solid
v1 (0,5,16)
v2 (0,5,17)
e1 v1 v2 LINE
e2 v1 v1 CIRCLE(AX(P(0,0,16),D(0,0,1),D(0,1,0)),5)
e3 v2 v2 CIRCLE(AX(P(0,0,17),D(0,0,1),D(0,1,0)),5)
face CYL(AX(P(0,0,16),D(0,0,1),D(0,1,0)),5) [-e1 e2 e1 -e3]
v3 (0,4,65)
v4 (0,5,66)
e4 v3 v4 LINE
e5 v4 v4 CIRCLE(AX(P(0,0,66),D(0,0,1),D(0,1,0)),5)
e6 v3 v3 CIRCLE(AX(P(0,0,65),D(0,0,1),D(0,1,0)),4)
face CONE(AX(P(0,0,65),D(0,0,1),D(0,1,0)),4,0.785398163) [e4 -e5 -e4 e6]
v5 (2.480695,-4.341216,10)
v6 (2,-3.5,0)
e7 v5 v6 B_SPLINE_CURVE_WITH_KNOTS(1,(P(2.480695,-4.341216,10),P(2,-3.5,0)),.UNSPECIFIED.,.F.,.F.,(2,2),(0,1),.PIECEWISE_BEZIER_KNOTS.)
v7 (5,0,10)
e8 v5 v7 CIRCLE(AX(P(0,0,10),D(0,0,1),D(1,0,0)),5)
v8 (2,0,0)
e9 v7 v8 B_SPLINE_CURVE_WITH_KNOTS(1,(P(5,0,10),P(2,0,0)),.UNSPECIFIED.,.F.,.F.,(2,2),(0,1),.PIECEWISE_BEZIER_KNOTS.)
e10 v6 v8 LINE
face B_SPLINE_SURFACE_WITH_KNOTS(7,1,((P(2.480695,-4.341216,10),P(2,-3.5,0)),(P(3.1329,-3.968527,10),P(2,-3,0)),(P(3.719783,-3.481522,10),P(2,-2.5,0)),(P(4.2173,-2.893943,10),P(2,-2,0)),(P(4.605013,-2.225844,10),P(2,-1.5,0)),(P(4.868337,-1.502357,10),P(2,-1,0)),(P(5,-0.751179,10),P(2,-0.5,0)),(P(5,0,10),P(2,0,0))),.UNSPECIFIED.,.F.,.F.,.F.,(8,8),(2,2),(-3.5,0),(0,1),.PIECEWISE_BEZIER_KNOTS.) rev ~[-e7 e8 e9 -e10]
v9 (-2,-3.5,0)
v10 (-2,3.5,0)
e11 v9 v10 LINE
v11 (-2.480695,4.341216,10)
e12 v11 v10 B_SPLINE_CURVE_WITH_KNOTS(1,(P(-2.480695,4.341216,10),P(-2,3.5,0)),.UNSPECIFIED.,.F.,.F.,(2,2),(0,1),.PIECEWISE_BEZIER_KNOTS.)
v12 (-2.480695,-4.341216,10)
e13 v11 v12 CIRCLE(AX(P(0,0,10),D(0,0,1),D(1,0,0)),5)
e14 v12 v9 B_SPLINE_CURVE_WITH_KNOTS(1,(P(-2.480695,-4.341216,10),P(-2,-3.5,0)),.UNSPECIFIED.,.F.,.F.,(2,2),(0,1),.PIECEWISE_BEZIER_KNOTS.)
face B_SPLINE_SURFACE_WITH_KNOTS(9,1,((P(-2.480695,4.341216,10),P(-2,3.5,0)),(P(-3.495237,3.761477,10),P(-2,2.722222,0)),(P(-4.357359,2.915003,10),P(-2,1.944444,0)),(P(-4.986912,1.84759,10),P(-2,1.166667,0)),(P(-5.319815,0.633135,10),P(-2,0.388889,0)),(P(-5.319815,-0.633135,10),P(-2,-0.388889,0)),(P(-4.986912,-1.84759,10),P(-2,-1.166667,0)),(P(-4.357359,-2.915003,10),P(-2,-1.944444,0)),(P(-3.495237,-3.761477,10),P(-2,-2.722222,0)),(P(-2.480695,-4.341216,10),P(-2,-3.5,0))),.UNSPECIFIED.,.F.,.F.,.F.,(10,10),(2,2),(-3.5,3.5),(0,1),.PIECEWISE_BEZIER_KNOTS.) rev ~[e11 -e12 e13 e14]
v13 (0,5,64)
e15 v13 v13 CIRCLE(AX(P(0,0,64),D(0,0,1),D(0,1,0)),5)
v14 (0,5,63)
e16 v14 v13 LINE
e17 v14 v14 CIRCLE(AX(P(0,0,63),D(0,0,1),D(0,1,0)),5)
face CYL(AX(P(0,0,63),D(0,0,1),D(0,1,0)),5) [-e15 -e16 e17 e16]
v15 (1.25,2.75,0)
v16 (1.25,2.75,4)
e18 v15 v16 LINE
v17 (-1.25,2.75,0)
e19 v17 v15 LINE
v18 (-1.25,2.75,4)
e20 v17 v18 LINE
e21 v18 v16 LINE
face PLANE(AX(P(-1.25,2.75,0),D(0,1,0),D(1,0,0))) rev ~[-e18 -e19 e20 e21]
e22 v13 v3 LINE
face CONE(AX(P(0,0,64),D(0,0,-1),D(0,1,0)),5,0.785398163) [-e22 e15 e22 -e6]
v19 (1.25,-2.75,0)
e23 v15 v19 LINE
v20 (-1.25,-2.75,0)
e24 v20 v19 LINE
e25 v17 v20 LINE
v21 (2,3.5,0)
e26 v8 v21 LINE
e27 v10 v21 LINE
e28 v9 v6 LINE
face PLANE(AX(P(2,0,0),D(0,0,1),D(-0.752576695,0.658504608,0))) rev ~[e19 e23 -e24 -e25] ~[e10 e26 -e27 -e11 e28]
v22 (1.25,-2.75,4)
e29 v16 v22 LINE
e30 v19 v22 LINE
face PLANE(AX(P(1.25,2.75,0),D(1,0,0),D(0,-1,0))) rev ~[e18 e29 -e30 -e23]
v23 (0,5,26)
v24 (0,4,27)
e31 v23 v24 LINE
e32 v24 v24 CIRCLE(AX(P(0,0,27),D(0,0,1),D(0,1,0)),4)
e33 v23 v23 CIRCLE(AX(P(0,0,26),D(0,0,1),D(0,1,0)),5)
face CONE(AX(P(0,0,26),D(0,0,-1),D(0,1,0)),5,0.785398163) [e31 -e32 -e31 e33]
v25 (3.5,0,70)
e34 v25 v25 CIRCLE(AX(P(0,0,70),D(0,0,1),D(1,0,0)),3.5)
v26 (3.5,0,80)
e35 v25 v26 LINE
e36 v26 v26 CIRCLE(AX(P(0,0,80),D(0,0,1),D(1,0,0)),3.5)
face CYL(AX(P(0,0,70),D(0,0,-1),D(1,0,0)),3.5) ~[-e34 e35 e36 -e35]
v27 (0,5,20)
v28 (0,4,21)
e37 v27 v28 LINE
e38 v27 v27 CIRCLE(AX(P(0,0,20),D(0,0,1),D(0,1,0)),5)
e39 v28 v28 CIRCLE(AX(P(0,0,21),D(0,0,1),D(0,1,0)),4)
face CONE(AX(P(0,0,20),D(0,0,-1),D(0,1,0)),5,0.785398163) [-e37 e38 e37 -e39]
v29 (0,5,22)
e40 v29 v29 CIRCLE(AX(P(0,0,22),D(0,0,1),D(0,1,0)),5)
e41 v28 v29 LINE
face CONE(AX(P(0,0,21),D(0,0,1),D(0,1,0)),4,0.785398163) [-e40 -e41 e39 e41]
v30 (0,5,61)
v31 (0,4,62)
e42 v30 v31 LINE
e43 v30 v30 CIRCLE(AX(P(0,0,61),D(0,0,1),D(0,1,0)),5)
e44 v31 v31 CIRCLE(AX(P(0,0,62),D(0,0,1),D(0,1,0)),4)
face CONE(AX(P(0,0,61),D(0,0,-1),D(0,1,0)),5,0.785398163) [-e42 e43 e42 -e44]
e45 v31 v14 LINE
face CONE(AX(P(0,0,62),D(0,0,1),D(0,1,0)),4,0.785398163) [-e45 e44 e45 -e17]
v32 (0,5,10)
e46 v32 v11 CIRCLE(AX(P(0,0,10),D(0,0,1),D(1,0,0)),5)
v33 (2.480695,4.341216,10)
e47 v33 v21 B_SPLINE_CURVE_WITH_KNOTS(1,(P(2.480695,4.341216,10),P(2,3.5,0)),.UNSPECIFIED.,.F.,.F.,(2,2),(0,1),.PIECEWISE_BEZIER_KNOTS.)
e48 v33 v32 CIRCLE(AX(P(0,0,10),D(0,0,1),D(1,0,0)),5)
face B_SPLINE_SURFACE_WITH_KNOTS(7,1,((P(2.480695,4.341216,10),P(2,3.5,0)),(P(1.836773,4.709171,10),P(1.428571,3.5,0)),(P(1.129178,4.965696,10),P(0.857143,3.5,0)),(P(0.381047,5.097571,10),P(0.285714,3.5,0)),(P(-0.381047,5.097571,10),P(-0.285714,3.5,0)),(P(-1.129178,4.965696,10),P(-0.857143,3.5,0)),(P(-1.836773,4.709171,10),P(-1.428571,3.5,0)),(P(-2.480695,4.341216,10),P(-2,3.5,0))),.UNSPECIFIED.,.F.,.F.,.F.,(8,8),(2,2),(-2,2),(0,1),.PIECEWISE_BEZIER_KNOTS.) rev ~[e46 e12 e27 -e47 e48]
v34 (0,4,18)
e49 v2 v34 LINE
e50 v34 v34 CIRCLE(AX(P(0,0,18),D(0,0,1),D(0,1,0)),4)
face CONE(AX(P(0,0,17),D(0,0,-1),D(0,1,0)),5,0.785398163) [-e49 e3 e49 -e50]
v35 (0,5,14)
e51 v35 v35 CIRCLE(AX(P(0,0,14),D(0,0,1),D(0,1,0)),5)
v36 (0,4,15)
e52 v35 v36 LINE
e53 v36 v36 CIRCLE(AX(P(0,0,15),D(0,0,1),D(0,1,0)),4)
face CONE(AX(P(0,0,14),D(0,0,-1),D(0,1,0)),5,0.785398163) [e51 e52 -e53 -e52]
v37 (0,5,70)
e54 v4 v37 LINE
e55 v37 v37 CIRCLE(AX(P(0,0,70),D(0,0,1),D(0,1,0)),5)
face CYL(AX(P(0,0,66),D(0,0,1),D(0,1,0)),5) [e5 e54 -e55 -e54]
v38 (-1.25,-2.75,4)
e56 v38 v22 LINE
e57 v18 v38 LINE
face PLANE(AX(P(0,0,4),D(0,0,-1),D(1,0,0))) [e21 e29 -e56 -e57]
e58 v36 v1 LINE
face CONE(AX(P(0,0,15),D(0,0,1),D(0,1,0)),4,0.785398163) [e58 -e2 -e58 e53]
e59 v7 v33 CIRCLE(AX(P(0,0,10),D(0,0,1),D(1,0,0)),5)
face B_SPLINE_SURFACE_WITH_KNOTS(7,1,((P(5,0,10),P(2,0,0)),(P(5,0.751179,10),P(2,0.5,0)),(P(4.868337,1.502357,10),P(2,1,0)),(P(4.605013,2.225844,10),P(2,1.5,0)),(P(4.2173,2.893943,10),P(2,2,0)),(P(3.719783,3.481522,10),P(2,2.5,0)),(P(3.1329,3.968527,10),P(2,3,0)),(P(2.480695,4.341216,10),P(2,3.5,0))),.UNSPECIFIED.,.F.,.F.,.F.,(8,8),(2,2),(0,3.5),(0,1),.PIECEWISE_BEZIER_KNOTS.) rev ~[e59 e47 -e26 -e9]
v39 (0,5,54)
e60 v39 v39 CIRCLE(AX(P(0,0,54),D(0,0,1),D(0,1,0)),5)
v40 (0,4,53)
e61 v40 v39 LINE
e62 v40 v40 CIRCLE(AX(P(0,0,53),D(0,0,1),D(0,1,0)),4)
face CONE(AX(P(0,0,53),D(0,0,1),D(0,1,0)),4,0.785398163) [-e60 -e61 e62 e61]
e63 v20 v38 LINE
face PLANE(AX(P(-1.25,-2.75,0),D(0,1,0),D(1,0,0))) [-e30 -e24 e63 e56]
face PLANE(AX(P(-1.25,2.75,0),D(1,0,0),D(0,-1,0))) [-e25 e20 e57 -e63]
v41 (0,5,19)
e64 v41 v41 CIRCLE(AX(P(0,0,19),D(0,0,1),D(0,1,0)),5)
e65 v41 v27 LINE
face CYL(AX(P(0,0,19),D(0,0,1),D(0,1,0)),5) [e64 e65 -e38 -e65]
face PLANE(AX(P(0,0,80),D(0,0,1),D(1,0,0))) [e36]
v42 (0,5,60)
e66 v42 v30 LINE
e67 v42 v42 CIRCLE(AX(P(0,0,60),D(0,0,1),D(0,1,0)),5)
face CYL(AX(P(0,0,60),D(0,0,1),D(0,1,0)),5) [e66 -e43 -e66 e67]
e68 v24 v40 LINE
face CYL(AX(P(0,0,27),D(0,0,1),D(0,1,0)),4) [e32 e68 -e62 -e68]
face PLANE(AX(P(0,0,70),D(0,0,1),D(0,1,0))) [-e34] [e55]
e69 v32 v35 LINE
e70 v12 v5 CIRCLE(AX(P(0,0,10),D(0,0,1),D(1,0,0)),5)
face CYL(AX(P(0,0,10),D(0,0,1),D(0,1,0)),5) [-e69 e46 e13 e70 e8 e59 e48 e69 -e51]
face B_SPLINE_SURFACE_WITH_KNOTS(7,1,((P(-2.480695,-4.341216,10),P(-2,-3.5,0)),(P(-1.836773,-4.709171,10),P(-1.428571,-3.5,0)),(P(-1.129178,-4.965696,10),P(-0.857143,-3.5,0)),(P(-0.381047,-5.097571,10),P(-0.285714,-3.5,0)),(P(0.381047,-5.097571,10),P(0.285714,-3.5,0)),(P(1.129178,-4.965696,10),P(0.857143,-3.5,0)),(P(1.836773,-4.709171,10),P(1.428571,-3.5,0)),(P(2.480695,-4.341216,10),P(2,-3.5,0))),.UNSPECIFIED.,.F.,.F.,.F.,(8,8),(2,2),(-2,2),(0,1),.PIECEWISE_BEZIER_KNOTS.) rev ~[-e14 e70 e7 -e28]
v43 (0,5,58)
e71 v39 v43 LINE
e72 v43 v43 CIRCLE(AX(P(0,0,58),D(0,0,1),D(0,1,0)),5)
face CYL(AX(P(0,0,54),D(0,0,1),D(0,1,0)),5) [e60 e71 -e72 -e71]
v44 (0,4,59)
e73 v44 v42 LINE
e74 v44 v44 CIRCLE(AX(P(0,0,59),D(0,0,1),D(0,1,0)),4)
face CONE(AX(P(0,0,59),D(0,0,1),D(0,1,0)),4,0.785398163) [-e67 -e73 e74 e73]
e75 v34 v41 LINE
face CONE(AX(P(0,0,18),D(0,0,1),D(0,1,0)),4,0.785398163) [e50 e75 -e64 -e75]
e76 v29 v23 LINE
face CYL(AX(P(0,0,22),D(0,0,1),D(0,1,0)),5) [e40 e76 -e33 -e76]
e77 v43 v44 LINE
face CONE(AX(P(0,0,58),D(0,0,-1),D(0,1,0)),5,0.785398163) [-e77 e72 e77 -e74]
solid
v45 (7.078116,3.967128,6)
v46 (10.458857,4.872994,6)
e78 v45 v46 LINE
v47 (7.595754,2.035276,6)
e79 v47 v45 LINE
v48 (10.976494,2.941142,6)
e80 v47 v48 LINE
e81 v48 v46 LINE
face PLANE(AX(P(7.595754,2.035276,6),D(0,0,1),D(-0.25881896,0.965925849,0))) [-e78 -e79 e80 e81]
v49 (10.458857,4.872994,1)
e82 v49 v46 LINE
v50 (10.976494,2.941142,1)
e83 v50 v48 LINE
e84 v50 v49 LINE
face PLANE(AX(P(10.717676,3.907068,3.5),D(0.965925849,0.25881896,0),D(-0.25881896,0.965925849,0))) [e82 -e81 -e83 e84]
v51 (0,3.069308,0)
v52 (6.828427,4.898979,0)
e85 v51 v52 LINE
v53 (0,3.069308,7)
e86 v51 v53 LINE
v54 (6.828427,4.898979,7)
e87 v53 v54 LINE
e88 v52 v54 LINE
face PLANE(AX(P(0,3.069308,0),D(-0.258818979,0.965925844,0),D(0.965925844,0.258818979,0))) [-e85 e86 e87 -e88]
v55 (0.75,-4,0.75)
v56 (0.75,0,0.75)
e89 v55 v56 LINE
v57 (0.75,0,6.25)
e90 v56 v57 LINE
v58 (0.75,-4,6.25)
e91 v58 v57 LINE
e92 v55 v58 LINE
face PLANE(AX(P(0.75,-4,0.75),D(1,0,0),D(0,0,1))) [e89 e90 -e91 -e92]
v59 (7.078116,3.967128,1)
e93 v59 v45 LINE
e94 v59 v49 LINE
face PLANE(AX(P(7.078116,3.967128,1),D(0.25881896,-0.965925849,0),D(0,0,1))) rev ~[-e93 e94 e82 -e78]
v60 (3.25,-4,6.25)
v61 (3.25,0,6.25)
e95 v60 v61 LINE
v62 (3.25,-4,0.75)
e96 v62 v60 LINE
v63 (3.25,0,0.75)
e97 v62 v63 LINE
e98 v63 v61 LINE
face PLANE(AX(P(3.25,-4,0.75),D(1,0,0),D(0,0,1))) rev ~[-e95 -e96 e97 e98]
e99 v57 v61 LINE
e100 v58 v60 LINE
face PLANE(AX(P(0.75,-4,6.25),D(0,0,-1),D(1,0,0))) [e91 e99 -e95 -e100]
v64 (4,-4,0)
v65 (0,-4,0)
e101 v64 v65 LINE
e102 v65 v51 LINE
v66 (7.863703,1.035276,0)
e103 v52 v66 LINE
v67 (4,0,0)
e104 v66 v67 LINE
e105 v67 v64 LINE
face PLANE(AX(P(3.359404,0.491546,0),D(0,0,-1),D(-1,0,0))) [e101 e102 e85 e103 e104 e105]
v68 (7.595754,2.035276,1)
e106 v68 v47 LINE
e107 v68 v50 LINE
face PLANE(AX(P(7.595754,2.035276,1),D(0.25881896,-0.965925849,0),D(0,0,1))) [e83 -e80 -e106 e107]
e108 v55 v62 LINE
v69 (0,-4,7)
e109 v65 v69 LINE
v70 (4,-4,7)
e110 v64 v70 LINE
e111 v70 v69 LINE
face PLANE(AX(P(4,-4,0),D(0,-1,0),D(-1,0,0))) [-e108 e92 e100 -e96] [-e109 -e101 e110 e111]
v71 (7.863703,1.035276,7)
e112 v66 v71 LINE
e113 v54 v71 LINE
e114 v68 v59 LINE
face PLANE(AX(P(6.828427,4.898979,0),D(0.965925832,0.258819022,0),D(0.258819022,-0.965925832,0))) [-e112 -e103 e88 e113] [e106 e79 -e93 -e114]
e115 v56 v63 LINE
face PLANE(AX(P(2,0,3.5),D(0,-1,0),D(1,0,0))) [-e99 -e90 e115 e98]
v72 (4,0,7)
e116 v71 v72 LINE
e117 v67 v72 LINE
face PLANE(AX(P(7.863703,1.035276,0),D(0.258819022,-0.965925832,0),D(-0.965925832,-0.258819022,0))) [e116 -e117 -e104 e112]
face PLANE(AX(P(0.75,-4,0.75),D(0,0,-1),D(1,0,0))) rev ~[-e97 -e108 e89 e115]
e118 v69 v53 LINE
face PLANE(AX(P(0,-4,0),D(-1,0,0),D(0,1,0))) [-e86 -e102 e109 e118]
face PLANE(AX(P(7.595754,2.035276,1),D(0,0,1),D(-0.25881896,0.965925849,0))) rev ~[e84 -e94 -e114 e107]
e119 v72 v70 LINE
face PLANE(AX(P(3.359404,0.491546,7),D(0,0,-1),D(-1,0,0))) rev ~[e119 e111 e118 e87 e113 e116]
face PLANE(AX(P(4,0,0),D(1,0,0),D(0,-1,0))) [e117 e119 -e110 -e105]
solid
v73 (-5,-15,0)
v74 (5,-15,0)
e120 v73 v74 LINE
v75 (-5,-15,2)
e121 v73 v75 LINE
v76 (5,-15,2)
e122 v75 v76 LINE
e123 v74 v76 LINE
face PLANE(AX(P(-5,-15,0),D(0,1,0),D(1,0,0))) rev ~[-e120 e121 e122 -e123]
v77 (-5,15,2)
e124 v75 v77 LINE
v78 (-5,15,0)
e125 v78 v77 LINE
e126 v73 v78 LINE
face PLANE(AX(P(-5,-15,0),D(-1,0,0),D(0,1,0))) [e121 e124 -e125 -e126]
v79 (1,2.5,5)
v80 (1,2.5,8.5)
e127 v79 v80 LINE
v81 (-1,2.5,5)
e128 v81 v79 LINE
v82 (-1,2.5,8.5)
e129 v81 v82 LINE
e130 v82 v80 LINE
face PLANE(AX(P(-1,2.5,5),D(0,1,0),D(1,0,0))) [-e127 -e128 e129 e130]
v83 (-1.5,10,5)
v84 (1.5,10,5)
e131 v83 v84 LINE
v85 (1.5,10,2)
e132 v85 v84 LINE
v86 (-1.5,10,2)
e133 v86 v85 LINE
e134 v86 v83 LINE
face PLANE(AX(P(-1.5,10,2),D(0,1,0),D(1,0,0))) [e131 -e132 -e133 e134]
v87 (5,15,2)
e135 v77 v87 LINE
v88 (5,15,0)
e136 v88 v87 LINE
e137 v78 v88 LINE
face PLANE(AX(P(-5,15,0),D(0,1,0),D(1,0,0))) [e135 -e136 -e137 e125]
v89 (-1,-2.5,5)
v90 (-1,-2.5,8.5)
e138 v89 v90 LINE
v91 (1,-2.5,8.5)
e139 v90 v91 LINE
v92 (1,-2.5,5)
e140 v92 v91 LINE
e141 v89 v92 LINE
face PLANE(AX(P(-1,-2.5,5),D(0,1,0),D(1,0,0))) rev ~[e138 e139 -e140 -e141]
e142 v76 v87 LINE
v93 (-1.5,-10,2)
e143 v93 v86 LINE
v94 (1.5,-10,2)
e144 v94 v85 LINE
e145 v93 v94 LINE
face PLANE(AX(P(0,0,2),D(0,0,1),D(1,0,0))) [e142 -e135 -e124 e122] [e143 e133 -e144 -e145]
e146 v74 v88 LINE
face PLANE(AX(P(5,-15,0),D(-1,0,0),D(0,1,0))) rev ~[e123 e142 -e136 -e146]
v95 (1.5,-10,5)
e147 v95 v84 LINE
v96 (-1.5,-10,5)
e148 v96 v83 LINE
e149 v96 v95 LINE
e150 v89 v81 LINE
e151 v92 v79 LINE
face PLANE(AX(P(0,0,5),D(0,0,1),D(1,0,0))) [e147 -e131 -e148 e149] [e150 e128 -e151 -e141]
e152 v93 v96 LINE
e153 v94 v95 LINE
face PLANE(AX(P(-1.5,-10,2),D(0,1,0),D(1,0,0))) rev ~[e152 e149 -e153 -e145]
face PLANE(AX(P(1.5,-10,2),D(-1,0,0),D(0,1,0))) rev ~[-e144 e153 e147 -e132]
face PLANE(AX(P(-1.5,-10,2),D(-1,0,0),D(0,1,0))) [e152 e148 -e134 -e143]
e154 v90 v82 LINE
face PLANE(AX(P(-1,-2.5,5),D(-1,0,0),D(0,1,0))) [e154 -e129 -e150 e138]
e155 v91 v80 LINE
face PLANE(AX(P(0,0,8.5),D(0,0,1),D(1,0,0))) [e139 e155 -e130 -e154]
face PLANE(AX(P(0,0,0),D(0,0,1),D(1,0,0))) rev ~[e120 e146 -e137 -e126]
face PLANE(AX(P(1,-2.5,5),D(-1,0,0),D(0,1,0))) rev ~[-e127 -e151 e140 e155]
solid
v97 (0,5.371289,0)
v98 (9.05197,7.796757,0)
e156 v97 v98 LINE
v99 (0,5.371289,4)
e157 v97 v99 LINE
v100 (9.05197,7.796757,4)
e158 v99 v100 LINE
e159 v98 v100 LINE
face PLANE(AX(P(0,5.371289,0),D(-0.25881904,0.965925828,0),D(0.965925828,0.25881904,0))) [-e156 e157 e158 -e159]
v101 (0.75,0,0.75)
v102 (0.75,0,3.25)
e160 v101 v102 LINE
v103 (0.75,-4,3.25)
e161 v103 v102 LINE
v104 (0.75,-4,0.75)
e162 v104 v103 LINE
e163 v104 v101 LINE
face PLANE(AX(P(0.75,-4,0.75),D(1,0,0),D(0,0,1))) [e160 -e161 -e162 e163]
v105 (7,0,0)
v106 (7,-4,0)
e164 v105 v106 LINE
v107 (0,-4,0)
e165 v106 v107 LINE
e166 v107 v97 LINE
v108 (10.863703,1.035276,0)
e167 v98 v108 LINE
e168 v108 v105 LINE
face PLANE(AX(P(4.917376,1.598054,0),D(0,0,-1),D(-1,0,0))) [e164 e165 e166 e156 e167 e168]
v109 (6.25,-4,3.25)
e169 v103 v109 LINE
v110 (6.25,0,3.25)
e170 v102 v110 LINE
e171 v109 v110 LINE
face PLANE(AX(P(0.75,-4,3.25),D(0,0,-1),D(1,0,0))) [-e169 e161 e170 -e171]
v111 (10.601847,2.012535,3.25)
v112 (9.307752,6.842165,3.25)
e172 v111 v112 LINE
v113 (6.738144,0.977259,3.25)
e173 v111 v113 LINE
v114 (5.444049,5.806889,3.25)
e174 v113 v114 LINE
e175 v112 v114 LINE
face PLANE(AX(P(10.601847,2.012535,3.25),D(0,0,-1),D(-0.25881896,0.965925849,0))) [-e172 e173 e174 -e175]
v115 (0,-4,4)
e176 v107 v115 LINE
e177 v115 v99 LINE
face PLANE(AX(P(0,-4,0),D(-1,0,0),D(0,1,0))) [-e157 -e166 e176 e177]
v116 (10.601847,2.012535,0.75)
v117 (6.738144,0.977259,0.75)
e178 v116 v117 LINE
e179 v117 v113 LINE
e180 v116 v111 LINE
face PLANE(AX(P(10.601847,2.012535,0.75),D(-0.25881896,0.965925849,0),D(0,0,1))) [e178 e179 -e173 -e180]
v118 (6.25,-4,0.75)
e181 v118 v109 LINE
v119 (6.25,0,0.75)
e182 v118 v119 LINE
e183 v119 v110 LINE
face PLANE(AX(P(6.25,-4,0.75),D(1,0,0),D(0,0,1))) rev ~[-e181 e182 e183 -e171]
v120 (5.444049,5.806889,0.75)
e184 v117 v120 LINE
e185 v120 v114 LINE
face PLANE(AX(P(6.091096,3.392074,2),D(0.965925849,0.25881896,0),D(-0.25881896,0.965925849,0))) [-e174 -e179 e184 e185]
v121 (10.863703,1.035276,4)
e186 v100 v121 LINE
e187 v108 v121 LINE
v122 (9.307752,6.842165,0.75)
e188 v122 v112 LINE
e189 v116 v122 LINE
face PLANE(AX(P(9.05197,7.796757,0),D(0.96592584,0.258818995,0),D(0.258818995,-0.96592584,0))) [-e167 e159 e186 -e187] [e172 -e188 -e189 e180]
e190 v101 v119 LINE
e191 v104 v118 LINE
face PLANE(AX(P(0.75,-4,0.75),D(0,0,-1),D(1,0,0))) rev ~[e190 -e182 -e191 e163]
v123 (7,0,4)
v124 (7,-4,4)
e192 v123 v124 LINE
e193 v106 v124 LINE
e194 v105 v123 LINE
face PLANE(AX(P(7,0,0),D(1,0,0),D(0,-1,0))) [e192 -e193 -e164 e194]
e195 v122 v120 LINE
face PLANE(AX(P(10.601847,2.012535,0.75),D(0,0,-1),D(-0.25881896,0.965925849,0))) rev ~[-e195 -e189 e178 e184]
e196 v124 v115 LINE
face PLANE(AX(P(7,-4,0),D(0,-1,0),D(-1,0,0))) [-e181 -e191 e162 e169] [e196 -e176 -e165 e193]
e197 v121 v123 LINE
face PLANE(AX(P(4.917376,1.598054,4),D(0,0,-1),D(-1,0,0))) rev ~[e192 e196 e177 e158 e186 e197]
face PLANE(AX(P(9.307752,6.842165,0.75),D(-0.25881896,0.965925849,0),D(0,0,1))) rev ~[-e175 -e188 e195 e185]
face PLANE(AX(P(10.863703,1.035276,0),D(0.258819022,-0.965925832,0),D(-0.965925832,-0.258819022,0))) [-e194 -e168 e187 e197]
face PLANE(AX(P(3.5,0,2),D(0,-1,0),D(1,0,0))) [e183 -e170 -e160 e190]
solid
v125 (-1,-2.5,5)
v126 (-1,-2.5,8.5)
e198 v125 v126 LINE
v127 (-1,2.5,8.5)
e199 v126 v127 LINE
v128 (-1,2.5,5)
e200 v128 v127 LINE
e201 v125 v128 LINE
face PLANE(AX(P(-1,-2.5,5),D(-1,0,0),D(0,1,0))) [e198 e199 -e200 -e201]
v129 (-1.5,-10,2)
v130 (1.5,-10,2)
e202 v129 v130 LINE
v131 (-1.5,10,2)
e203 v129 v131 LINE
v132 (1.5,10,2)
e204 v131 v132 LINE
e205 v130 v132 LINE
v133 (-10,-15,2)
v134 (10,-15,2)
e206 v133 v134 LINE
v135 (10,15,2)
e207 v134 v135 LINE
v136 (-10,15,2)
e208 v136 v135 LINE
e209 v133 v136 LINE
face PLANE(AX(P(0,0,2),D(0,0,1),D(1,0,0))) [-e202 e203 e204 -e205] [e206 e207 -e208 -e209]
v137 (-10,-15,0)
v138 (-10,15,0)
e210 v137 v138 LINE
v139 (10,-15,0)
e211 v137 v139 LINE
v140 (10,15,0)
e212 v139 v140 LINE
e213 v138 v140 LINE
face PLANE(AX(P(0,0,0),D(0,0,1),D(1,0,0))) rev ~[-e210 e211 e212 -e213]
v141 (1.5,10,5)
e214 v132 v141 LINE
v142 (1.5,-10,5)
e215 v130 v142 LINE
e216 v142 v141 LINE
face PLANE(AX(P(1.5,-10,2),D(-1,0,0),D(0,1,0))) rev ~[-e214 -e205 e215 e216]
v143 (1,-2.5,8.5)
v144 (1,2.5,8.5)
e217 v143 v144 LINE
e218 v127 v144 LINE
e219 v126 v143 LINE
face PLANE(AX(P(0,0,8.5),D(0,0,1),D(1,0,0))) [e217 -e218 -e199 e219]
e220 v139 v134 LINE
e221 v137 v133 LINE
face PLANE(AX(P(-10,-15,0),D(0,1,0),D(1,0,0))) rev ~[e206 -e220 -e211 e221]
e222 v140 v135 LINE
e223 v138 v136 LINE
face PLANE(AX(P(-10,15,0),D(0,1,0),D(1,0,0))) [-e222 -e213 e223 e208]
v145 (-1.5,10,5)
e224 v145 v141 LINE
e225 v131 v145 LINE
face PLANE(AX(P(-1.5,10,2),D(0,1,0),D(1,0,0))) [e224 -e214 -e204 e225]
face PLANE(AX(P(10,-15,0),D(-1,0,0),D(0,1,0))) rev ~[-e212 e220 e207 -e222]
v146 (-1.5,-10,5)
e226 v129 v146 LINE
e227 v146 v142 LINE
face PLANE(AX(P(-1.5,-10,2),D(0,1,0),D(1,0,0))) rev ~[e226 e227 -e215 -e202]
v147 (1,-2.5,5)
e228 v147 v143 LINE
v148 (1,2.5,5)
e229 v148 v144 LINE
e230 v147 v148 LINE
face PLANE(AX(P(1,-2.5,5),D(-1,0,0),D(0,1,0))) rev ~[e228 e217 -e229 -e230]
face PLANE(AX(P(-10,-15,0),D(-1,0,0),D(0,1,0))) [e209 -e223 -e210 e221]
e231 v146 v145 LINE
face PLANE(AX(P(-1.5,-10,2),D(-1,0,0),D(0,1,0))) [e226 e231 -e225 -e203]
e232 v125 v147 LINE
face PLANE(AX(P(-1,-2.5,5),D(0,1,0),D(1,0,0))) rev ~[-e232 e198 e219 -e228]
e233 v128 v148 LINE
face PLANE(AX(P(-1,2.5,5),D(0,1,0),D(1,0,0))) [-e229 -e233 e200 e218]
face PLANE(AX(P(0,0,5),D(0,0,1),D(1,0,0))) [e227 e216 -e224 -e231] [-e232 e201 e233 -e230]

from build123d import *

# Parameters (mm, degrees)
SKETCH_W        = 20
SKETCH_H        = 30
PAD_DEPTH       = 2
SKETCH001_W     = 3
SKETCH001_H     = 20
PAD001_DEPTH    = 3
SKETCH002_W     = 2
SKETCH002_H     = 5
PAD002_DEPTH    = 3.5
PAD003_DEPTH    = 4
SKETCH004_W     = 5.5
SKETCH004_H     = 2.5
POCKET_DEPTH    = 4
SKETCH005_W     = 5
SKETCH005_H     = 2.5
POCKET001_DEPTH = 4
PAD004_DEPTH    = 7
SKETCH007_W     = 2.5
SKETCH007_H     = 5.5
POCKET002_DEPTH = 4
SKETCH008_W     = 2
SKETCH008_H     = 5
PAD006_DEPTH    = 3.5
SKETCH010_R     = 5
SKETCH009_W     = 4
SKETCH009_H     = 7
SKETCH013_R     = 3.5
PAD005_DEPTH    = 10
SKETCH014_W     = 2.5
SKETCH014_H     = 5.5
POCKET003_DEPTH = 4
SKETCH015_W     = 10
SKETCH015_H     = 30
PAD007_DEPTH    = 2
SKETCH016_W     = 3
SKETCH016_H     = 20
PAD008_DEPTH    = 3
SKETCH017_W     = 2
SKETCH017_H     = 5
PAD009_DEPTH    = 3.5


with BuildPart() as connectorback:
    # Sketch → Pad (new body)
    with BuildSketch(Plane.XY):
        Rectangle(SKETCH_W, SKETCH_H)
    extrude(amount=PAD_DEPTH)

    # Sketch001 (on Face6 of Pad) → Pad001 (join)
    with BuildSketch(Plane.XY.offset(2)):
        Rectangle(SKETCH001_W, SKETCH001_H)
    extrude(amount=PAD001_DEPTH)

    # Sketch002 (on Face11 of Pad001) → Pad002 (join)
    with BuildSketch(Plane.XY.offset(5)):
        Rectangle(SKETCH002_W, SKETCH002_H)
    extrude(amount=PAD002_DEPTH)


with BuildPart() as rotatorhorizont:
    # Sketch003 → Pad003 (new body)
    with BuildSketch(Plane.XY):
        Polygon((7, 0), (7, -4), (0, -4), (0, 5.371289), (9.05197, 7.796757), (10.863703, 1.035276), align=None)
    extrude(amount=PAD003_DEPTH)

    # Sketch004 (on Face2 of Pad003) → Pocket (cut)
    with BuildSketch(Plane.XZ.offset(4)):
        with Locations((3.5, 2)):
            Rectangle(SKETCH004_W, SKETCH004_H)
    extrude(amount=-POCKET_DEPTH, mode=Mode.SUBTRACT)

    # Sketch005 (on Face6 of Pocket) → Pocket001 (cut)
    with BuildSketch(Plane(origin=(10.394792, 2.785276, 0), x_dir=(-0.258819, 0.965926, 0), z_dir=(0.965926, 0.258819, 0))):
        with Locations((1.7, 2)):
            Rectangle(SKETCH005_W, SKETCH005_H)
    extrude(amount=-POCKET001_DEPTH, mode=Mode.SUBTRACT)


with BuildPart() as rotatorvertical:
    # Sketch006 → Pad004 (new body)
    with BuildSketch(Plane.XY):
        Polygon((4, 0), (4, -4), (0, -4), (0, 3.069308), (6.828427, 4.898979), (7.863703, 1.035276), align=None)
    extrude(amount=PAD004_DEPTH)

    # Sketch007 (on Face2 of Pad004) → Pocket002 (cut)
    with BuildSketch(Plane.XZ.offset(4)):
        with Locations((2, 3.5)):
            Rectangle(SKETCH007_W, SKETCH007_H)
    extrude(amount=-POCKET002_DEPTH, mode=Mode.SUBTRACT)

    # Sketch008 (on Face6 of Pocket002) → Pad006 (join)
    with BuildSketch(Plane(origin=(7.595754, 2.035276, 0), x_dir=(-0.258819, 0.965926, 0), z_dir=(0.965926, 0.258819, 0))):
        with Locations((1, 3.5)):
            Rectangle(SKETCH008_W, SKETCH008_H)
    extrude(amount=PAD006_DEPTH)


with BuildPart() as pillar:
    # Sketch010 → AdditiveLoft section 0
    with BuildSketch(Plane.XY.offset(10)):
        Circle(SKETCH010_R)
    # Sketch009 → AdditiveLoft section 1
    with BuildSketch(Plane.XY):
        Rectangle(SKETCH009_W, SKETCH009_H)
    loft()

    # Sketch012 → Revolution (revolve)
    with BuildSketch(Plane(origin=(0, 0, 10), x_dir=(0, 1, 0), z_dir=(1, 0, 0))):
        Polygon((0, 0), (5, 0), (5, 4), (4, 5), (5, 6), (5, 7), (4, 8), (5, 9), (5, 10), (4, 11), (5, 12), (5, 16), (4, 17), (4, 43), (5, 44), (5, 48), (4, 49), (5, 50), (5, 51), (4, 52), (5, 53), (5, 54), (4, 55), (5, 56), (5, 60), (0, 60), align=None)
    revolve(axis=Axis((0, 0, 10), (0, 0, 1)))

    # Sketch013 (on Face30 of Revolution) → Pad005 (new body)
    with BuildSketch(Plane.XY.offset(70)):
        Circle(SKETCH013_R)
    extrude(amount=PAD005_DEPTH)

    # Sketch014 (on Face4 of Pad005) → Pocket003 (cut)
    with BuildSketch(Plane(origin=(0, 0, 0), x_dir=(1, 0, 0), z_dir=(0, 0, -1))):
        Rectangle(SKETCH014_W, SKETCH014_H)
    extrude(amount=-POCKET003_DEPTH, mode=Mode.SUBTRACT)


with BuildPart() as connectorfront:
    # Sketch015 → Pad007 (new body)
    with BuildSketch(Plane.XY):
        Rectangle(SKETCH015_W, SKETCH015_H)
    extrude(amount=PAD007_DEPTH)

    # Sketch016 (on Face6 of Pad007) → Pad008 (join)
    with BuildSketch(Plane.XY.offset(2)):
        Rectangle(SKETCH016_W, SKETCH016_H)
    extrude(amount=PAD008_DEPTH)

    # Sketch017 (on Face11 of Pad008) → Pad009 (join)
    with BuildSketch(Plane.XY.offset(5)):
        Rectangle(SKETCH017_W, SKETCH017_H)
    extrude(amount=PAD009_DEPTH)


solid = Compound([connectorback.part, rotatorhorizont.part, rotatorvertical.part, pillar.part, connectorfront.part])
